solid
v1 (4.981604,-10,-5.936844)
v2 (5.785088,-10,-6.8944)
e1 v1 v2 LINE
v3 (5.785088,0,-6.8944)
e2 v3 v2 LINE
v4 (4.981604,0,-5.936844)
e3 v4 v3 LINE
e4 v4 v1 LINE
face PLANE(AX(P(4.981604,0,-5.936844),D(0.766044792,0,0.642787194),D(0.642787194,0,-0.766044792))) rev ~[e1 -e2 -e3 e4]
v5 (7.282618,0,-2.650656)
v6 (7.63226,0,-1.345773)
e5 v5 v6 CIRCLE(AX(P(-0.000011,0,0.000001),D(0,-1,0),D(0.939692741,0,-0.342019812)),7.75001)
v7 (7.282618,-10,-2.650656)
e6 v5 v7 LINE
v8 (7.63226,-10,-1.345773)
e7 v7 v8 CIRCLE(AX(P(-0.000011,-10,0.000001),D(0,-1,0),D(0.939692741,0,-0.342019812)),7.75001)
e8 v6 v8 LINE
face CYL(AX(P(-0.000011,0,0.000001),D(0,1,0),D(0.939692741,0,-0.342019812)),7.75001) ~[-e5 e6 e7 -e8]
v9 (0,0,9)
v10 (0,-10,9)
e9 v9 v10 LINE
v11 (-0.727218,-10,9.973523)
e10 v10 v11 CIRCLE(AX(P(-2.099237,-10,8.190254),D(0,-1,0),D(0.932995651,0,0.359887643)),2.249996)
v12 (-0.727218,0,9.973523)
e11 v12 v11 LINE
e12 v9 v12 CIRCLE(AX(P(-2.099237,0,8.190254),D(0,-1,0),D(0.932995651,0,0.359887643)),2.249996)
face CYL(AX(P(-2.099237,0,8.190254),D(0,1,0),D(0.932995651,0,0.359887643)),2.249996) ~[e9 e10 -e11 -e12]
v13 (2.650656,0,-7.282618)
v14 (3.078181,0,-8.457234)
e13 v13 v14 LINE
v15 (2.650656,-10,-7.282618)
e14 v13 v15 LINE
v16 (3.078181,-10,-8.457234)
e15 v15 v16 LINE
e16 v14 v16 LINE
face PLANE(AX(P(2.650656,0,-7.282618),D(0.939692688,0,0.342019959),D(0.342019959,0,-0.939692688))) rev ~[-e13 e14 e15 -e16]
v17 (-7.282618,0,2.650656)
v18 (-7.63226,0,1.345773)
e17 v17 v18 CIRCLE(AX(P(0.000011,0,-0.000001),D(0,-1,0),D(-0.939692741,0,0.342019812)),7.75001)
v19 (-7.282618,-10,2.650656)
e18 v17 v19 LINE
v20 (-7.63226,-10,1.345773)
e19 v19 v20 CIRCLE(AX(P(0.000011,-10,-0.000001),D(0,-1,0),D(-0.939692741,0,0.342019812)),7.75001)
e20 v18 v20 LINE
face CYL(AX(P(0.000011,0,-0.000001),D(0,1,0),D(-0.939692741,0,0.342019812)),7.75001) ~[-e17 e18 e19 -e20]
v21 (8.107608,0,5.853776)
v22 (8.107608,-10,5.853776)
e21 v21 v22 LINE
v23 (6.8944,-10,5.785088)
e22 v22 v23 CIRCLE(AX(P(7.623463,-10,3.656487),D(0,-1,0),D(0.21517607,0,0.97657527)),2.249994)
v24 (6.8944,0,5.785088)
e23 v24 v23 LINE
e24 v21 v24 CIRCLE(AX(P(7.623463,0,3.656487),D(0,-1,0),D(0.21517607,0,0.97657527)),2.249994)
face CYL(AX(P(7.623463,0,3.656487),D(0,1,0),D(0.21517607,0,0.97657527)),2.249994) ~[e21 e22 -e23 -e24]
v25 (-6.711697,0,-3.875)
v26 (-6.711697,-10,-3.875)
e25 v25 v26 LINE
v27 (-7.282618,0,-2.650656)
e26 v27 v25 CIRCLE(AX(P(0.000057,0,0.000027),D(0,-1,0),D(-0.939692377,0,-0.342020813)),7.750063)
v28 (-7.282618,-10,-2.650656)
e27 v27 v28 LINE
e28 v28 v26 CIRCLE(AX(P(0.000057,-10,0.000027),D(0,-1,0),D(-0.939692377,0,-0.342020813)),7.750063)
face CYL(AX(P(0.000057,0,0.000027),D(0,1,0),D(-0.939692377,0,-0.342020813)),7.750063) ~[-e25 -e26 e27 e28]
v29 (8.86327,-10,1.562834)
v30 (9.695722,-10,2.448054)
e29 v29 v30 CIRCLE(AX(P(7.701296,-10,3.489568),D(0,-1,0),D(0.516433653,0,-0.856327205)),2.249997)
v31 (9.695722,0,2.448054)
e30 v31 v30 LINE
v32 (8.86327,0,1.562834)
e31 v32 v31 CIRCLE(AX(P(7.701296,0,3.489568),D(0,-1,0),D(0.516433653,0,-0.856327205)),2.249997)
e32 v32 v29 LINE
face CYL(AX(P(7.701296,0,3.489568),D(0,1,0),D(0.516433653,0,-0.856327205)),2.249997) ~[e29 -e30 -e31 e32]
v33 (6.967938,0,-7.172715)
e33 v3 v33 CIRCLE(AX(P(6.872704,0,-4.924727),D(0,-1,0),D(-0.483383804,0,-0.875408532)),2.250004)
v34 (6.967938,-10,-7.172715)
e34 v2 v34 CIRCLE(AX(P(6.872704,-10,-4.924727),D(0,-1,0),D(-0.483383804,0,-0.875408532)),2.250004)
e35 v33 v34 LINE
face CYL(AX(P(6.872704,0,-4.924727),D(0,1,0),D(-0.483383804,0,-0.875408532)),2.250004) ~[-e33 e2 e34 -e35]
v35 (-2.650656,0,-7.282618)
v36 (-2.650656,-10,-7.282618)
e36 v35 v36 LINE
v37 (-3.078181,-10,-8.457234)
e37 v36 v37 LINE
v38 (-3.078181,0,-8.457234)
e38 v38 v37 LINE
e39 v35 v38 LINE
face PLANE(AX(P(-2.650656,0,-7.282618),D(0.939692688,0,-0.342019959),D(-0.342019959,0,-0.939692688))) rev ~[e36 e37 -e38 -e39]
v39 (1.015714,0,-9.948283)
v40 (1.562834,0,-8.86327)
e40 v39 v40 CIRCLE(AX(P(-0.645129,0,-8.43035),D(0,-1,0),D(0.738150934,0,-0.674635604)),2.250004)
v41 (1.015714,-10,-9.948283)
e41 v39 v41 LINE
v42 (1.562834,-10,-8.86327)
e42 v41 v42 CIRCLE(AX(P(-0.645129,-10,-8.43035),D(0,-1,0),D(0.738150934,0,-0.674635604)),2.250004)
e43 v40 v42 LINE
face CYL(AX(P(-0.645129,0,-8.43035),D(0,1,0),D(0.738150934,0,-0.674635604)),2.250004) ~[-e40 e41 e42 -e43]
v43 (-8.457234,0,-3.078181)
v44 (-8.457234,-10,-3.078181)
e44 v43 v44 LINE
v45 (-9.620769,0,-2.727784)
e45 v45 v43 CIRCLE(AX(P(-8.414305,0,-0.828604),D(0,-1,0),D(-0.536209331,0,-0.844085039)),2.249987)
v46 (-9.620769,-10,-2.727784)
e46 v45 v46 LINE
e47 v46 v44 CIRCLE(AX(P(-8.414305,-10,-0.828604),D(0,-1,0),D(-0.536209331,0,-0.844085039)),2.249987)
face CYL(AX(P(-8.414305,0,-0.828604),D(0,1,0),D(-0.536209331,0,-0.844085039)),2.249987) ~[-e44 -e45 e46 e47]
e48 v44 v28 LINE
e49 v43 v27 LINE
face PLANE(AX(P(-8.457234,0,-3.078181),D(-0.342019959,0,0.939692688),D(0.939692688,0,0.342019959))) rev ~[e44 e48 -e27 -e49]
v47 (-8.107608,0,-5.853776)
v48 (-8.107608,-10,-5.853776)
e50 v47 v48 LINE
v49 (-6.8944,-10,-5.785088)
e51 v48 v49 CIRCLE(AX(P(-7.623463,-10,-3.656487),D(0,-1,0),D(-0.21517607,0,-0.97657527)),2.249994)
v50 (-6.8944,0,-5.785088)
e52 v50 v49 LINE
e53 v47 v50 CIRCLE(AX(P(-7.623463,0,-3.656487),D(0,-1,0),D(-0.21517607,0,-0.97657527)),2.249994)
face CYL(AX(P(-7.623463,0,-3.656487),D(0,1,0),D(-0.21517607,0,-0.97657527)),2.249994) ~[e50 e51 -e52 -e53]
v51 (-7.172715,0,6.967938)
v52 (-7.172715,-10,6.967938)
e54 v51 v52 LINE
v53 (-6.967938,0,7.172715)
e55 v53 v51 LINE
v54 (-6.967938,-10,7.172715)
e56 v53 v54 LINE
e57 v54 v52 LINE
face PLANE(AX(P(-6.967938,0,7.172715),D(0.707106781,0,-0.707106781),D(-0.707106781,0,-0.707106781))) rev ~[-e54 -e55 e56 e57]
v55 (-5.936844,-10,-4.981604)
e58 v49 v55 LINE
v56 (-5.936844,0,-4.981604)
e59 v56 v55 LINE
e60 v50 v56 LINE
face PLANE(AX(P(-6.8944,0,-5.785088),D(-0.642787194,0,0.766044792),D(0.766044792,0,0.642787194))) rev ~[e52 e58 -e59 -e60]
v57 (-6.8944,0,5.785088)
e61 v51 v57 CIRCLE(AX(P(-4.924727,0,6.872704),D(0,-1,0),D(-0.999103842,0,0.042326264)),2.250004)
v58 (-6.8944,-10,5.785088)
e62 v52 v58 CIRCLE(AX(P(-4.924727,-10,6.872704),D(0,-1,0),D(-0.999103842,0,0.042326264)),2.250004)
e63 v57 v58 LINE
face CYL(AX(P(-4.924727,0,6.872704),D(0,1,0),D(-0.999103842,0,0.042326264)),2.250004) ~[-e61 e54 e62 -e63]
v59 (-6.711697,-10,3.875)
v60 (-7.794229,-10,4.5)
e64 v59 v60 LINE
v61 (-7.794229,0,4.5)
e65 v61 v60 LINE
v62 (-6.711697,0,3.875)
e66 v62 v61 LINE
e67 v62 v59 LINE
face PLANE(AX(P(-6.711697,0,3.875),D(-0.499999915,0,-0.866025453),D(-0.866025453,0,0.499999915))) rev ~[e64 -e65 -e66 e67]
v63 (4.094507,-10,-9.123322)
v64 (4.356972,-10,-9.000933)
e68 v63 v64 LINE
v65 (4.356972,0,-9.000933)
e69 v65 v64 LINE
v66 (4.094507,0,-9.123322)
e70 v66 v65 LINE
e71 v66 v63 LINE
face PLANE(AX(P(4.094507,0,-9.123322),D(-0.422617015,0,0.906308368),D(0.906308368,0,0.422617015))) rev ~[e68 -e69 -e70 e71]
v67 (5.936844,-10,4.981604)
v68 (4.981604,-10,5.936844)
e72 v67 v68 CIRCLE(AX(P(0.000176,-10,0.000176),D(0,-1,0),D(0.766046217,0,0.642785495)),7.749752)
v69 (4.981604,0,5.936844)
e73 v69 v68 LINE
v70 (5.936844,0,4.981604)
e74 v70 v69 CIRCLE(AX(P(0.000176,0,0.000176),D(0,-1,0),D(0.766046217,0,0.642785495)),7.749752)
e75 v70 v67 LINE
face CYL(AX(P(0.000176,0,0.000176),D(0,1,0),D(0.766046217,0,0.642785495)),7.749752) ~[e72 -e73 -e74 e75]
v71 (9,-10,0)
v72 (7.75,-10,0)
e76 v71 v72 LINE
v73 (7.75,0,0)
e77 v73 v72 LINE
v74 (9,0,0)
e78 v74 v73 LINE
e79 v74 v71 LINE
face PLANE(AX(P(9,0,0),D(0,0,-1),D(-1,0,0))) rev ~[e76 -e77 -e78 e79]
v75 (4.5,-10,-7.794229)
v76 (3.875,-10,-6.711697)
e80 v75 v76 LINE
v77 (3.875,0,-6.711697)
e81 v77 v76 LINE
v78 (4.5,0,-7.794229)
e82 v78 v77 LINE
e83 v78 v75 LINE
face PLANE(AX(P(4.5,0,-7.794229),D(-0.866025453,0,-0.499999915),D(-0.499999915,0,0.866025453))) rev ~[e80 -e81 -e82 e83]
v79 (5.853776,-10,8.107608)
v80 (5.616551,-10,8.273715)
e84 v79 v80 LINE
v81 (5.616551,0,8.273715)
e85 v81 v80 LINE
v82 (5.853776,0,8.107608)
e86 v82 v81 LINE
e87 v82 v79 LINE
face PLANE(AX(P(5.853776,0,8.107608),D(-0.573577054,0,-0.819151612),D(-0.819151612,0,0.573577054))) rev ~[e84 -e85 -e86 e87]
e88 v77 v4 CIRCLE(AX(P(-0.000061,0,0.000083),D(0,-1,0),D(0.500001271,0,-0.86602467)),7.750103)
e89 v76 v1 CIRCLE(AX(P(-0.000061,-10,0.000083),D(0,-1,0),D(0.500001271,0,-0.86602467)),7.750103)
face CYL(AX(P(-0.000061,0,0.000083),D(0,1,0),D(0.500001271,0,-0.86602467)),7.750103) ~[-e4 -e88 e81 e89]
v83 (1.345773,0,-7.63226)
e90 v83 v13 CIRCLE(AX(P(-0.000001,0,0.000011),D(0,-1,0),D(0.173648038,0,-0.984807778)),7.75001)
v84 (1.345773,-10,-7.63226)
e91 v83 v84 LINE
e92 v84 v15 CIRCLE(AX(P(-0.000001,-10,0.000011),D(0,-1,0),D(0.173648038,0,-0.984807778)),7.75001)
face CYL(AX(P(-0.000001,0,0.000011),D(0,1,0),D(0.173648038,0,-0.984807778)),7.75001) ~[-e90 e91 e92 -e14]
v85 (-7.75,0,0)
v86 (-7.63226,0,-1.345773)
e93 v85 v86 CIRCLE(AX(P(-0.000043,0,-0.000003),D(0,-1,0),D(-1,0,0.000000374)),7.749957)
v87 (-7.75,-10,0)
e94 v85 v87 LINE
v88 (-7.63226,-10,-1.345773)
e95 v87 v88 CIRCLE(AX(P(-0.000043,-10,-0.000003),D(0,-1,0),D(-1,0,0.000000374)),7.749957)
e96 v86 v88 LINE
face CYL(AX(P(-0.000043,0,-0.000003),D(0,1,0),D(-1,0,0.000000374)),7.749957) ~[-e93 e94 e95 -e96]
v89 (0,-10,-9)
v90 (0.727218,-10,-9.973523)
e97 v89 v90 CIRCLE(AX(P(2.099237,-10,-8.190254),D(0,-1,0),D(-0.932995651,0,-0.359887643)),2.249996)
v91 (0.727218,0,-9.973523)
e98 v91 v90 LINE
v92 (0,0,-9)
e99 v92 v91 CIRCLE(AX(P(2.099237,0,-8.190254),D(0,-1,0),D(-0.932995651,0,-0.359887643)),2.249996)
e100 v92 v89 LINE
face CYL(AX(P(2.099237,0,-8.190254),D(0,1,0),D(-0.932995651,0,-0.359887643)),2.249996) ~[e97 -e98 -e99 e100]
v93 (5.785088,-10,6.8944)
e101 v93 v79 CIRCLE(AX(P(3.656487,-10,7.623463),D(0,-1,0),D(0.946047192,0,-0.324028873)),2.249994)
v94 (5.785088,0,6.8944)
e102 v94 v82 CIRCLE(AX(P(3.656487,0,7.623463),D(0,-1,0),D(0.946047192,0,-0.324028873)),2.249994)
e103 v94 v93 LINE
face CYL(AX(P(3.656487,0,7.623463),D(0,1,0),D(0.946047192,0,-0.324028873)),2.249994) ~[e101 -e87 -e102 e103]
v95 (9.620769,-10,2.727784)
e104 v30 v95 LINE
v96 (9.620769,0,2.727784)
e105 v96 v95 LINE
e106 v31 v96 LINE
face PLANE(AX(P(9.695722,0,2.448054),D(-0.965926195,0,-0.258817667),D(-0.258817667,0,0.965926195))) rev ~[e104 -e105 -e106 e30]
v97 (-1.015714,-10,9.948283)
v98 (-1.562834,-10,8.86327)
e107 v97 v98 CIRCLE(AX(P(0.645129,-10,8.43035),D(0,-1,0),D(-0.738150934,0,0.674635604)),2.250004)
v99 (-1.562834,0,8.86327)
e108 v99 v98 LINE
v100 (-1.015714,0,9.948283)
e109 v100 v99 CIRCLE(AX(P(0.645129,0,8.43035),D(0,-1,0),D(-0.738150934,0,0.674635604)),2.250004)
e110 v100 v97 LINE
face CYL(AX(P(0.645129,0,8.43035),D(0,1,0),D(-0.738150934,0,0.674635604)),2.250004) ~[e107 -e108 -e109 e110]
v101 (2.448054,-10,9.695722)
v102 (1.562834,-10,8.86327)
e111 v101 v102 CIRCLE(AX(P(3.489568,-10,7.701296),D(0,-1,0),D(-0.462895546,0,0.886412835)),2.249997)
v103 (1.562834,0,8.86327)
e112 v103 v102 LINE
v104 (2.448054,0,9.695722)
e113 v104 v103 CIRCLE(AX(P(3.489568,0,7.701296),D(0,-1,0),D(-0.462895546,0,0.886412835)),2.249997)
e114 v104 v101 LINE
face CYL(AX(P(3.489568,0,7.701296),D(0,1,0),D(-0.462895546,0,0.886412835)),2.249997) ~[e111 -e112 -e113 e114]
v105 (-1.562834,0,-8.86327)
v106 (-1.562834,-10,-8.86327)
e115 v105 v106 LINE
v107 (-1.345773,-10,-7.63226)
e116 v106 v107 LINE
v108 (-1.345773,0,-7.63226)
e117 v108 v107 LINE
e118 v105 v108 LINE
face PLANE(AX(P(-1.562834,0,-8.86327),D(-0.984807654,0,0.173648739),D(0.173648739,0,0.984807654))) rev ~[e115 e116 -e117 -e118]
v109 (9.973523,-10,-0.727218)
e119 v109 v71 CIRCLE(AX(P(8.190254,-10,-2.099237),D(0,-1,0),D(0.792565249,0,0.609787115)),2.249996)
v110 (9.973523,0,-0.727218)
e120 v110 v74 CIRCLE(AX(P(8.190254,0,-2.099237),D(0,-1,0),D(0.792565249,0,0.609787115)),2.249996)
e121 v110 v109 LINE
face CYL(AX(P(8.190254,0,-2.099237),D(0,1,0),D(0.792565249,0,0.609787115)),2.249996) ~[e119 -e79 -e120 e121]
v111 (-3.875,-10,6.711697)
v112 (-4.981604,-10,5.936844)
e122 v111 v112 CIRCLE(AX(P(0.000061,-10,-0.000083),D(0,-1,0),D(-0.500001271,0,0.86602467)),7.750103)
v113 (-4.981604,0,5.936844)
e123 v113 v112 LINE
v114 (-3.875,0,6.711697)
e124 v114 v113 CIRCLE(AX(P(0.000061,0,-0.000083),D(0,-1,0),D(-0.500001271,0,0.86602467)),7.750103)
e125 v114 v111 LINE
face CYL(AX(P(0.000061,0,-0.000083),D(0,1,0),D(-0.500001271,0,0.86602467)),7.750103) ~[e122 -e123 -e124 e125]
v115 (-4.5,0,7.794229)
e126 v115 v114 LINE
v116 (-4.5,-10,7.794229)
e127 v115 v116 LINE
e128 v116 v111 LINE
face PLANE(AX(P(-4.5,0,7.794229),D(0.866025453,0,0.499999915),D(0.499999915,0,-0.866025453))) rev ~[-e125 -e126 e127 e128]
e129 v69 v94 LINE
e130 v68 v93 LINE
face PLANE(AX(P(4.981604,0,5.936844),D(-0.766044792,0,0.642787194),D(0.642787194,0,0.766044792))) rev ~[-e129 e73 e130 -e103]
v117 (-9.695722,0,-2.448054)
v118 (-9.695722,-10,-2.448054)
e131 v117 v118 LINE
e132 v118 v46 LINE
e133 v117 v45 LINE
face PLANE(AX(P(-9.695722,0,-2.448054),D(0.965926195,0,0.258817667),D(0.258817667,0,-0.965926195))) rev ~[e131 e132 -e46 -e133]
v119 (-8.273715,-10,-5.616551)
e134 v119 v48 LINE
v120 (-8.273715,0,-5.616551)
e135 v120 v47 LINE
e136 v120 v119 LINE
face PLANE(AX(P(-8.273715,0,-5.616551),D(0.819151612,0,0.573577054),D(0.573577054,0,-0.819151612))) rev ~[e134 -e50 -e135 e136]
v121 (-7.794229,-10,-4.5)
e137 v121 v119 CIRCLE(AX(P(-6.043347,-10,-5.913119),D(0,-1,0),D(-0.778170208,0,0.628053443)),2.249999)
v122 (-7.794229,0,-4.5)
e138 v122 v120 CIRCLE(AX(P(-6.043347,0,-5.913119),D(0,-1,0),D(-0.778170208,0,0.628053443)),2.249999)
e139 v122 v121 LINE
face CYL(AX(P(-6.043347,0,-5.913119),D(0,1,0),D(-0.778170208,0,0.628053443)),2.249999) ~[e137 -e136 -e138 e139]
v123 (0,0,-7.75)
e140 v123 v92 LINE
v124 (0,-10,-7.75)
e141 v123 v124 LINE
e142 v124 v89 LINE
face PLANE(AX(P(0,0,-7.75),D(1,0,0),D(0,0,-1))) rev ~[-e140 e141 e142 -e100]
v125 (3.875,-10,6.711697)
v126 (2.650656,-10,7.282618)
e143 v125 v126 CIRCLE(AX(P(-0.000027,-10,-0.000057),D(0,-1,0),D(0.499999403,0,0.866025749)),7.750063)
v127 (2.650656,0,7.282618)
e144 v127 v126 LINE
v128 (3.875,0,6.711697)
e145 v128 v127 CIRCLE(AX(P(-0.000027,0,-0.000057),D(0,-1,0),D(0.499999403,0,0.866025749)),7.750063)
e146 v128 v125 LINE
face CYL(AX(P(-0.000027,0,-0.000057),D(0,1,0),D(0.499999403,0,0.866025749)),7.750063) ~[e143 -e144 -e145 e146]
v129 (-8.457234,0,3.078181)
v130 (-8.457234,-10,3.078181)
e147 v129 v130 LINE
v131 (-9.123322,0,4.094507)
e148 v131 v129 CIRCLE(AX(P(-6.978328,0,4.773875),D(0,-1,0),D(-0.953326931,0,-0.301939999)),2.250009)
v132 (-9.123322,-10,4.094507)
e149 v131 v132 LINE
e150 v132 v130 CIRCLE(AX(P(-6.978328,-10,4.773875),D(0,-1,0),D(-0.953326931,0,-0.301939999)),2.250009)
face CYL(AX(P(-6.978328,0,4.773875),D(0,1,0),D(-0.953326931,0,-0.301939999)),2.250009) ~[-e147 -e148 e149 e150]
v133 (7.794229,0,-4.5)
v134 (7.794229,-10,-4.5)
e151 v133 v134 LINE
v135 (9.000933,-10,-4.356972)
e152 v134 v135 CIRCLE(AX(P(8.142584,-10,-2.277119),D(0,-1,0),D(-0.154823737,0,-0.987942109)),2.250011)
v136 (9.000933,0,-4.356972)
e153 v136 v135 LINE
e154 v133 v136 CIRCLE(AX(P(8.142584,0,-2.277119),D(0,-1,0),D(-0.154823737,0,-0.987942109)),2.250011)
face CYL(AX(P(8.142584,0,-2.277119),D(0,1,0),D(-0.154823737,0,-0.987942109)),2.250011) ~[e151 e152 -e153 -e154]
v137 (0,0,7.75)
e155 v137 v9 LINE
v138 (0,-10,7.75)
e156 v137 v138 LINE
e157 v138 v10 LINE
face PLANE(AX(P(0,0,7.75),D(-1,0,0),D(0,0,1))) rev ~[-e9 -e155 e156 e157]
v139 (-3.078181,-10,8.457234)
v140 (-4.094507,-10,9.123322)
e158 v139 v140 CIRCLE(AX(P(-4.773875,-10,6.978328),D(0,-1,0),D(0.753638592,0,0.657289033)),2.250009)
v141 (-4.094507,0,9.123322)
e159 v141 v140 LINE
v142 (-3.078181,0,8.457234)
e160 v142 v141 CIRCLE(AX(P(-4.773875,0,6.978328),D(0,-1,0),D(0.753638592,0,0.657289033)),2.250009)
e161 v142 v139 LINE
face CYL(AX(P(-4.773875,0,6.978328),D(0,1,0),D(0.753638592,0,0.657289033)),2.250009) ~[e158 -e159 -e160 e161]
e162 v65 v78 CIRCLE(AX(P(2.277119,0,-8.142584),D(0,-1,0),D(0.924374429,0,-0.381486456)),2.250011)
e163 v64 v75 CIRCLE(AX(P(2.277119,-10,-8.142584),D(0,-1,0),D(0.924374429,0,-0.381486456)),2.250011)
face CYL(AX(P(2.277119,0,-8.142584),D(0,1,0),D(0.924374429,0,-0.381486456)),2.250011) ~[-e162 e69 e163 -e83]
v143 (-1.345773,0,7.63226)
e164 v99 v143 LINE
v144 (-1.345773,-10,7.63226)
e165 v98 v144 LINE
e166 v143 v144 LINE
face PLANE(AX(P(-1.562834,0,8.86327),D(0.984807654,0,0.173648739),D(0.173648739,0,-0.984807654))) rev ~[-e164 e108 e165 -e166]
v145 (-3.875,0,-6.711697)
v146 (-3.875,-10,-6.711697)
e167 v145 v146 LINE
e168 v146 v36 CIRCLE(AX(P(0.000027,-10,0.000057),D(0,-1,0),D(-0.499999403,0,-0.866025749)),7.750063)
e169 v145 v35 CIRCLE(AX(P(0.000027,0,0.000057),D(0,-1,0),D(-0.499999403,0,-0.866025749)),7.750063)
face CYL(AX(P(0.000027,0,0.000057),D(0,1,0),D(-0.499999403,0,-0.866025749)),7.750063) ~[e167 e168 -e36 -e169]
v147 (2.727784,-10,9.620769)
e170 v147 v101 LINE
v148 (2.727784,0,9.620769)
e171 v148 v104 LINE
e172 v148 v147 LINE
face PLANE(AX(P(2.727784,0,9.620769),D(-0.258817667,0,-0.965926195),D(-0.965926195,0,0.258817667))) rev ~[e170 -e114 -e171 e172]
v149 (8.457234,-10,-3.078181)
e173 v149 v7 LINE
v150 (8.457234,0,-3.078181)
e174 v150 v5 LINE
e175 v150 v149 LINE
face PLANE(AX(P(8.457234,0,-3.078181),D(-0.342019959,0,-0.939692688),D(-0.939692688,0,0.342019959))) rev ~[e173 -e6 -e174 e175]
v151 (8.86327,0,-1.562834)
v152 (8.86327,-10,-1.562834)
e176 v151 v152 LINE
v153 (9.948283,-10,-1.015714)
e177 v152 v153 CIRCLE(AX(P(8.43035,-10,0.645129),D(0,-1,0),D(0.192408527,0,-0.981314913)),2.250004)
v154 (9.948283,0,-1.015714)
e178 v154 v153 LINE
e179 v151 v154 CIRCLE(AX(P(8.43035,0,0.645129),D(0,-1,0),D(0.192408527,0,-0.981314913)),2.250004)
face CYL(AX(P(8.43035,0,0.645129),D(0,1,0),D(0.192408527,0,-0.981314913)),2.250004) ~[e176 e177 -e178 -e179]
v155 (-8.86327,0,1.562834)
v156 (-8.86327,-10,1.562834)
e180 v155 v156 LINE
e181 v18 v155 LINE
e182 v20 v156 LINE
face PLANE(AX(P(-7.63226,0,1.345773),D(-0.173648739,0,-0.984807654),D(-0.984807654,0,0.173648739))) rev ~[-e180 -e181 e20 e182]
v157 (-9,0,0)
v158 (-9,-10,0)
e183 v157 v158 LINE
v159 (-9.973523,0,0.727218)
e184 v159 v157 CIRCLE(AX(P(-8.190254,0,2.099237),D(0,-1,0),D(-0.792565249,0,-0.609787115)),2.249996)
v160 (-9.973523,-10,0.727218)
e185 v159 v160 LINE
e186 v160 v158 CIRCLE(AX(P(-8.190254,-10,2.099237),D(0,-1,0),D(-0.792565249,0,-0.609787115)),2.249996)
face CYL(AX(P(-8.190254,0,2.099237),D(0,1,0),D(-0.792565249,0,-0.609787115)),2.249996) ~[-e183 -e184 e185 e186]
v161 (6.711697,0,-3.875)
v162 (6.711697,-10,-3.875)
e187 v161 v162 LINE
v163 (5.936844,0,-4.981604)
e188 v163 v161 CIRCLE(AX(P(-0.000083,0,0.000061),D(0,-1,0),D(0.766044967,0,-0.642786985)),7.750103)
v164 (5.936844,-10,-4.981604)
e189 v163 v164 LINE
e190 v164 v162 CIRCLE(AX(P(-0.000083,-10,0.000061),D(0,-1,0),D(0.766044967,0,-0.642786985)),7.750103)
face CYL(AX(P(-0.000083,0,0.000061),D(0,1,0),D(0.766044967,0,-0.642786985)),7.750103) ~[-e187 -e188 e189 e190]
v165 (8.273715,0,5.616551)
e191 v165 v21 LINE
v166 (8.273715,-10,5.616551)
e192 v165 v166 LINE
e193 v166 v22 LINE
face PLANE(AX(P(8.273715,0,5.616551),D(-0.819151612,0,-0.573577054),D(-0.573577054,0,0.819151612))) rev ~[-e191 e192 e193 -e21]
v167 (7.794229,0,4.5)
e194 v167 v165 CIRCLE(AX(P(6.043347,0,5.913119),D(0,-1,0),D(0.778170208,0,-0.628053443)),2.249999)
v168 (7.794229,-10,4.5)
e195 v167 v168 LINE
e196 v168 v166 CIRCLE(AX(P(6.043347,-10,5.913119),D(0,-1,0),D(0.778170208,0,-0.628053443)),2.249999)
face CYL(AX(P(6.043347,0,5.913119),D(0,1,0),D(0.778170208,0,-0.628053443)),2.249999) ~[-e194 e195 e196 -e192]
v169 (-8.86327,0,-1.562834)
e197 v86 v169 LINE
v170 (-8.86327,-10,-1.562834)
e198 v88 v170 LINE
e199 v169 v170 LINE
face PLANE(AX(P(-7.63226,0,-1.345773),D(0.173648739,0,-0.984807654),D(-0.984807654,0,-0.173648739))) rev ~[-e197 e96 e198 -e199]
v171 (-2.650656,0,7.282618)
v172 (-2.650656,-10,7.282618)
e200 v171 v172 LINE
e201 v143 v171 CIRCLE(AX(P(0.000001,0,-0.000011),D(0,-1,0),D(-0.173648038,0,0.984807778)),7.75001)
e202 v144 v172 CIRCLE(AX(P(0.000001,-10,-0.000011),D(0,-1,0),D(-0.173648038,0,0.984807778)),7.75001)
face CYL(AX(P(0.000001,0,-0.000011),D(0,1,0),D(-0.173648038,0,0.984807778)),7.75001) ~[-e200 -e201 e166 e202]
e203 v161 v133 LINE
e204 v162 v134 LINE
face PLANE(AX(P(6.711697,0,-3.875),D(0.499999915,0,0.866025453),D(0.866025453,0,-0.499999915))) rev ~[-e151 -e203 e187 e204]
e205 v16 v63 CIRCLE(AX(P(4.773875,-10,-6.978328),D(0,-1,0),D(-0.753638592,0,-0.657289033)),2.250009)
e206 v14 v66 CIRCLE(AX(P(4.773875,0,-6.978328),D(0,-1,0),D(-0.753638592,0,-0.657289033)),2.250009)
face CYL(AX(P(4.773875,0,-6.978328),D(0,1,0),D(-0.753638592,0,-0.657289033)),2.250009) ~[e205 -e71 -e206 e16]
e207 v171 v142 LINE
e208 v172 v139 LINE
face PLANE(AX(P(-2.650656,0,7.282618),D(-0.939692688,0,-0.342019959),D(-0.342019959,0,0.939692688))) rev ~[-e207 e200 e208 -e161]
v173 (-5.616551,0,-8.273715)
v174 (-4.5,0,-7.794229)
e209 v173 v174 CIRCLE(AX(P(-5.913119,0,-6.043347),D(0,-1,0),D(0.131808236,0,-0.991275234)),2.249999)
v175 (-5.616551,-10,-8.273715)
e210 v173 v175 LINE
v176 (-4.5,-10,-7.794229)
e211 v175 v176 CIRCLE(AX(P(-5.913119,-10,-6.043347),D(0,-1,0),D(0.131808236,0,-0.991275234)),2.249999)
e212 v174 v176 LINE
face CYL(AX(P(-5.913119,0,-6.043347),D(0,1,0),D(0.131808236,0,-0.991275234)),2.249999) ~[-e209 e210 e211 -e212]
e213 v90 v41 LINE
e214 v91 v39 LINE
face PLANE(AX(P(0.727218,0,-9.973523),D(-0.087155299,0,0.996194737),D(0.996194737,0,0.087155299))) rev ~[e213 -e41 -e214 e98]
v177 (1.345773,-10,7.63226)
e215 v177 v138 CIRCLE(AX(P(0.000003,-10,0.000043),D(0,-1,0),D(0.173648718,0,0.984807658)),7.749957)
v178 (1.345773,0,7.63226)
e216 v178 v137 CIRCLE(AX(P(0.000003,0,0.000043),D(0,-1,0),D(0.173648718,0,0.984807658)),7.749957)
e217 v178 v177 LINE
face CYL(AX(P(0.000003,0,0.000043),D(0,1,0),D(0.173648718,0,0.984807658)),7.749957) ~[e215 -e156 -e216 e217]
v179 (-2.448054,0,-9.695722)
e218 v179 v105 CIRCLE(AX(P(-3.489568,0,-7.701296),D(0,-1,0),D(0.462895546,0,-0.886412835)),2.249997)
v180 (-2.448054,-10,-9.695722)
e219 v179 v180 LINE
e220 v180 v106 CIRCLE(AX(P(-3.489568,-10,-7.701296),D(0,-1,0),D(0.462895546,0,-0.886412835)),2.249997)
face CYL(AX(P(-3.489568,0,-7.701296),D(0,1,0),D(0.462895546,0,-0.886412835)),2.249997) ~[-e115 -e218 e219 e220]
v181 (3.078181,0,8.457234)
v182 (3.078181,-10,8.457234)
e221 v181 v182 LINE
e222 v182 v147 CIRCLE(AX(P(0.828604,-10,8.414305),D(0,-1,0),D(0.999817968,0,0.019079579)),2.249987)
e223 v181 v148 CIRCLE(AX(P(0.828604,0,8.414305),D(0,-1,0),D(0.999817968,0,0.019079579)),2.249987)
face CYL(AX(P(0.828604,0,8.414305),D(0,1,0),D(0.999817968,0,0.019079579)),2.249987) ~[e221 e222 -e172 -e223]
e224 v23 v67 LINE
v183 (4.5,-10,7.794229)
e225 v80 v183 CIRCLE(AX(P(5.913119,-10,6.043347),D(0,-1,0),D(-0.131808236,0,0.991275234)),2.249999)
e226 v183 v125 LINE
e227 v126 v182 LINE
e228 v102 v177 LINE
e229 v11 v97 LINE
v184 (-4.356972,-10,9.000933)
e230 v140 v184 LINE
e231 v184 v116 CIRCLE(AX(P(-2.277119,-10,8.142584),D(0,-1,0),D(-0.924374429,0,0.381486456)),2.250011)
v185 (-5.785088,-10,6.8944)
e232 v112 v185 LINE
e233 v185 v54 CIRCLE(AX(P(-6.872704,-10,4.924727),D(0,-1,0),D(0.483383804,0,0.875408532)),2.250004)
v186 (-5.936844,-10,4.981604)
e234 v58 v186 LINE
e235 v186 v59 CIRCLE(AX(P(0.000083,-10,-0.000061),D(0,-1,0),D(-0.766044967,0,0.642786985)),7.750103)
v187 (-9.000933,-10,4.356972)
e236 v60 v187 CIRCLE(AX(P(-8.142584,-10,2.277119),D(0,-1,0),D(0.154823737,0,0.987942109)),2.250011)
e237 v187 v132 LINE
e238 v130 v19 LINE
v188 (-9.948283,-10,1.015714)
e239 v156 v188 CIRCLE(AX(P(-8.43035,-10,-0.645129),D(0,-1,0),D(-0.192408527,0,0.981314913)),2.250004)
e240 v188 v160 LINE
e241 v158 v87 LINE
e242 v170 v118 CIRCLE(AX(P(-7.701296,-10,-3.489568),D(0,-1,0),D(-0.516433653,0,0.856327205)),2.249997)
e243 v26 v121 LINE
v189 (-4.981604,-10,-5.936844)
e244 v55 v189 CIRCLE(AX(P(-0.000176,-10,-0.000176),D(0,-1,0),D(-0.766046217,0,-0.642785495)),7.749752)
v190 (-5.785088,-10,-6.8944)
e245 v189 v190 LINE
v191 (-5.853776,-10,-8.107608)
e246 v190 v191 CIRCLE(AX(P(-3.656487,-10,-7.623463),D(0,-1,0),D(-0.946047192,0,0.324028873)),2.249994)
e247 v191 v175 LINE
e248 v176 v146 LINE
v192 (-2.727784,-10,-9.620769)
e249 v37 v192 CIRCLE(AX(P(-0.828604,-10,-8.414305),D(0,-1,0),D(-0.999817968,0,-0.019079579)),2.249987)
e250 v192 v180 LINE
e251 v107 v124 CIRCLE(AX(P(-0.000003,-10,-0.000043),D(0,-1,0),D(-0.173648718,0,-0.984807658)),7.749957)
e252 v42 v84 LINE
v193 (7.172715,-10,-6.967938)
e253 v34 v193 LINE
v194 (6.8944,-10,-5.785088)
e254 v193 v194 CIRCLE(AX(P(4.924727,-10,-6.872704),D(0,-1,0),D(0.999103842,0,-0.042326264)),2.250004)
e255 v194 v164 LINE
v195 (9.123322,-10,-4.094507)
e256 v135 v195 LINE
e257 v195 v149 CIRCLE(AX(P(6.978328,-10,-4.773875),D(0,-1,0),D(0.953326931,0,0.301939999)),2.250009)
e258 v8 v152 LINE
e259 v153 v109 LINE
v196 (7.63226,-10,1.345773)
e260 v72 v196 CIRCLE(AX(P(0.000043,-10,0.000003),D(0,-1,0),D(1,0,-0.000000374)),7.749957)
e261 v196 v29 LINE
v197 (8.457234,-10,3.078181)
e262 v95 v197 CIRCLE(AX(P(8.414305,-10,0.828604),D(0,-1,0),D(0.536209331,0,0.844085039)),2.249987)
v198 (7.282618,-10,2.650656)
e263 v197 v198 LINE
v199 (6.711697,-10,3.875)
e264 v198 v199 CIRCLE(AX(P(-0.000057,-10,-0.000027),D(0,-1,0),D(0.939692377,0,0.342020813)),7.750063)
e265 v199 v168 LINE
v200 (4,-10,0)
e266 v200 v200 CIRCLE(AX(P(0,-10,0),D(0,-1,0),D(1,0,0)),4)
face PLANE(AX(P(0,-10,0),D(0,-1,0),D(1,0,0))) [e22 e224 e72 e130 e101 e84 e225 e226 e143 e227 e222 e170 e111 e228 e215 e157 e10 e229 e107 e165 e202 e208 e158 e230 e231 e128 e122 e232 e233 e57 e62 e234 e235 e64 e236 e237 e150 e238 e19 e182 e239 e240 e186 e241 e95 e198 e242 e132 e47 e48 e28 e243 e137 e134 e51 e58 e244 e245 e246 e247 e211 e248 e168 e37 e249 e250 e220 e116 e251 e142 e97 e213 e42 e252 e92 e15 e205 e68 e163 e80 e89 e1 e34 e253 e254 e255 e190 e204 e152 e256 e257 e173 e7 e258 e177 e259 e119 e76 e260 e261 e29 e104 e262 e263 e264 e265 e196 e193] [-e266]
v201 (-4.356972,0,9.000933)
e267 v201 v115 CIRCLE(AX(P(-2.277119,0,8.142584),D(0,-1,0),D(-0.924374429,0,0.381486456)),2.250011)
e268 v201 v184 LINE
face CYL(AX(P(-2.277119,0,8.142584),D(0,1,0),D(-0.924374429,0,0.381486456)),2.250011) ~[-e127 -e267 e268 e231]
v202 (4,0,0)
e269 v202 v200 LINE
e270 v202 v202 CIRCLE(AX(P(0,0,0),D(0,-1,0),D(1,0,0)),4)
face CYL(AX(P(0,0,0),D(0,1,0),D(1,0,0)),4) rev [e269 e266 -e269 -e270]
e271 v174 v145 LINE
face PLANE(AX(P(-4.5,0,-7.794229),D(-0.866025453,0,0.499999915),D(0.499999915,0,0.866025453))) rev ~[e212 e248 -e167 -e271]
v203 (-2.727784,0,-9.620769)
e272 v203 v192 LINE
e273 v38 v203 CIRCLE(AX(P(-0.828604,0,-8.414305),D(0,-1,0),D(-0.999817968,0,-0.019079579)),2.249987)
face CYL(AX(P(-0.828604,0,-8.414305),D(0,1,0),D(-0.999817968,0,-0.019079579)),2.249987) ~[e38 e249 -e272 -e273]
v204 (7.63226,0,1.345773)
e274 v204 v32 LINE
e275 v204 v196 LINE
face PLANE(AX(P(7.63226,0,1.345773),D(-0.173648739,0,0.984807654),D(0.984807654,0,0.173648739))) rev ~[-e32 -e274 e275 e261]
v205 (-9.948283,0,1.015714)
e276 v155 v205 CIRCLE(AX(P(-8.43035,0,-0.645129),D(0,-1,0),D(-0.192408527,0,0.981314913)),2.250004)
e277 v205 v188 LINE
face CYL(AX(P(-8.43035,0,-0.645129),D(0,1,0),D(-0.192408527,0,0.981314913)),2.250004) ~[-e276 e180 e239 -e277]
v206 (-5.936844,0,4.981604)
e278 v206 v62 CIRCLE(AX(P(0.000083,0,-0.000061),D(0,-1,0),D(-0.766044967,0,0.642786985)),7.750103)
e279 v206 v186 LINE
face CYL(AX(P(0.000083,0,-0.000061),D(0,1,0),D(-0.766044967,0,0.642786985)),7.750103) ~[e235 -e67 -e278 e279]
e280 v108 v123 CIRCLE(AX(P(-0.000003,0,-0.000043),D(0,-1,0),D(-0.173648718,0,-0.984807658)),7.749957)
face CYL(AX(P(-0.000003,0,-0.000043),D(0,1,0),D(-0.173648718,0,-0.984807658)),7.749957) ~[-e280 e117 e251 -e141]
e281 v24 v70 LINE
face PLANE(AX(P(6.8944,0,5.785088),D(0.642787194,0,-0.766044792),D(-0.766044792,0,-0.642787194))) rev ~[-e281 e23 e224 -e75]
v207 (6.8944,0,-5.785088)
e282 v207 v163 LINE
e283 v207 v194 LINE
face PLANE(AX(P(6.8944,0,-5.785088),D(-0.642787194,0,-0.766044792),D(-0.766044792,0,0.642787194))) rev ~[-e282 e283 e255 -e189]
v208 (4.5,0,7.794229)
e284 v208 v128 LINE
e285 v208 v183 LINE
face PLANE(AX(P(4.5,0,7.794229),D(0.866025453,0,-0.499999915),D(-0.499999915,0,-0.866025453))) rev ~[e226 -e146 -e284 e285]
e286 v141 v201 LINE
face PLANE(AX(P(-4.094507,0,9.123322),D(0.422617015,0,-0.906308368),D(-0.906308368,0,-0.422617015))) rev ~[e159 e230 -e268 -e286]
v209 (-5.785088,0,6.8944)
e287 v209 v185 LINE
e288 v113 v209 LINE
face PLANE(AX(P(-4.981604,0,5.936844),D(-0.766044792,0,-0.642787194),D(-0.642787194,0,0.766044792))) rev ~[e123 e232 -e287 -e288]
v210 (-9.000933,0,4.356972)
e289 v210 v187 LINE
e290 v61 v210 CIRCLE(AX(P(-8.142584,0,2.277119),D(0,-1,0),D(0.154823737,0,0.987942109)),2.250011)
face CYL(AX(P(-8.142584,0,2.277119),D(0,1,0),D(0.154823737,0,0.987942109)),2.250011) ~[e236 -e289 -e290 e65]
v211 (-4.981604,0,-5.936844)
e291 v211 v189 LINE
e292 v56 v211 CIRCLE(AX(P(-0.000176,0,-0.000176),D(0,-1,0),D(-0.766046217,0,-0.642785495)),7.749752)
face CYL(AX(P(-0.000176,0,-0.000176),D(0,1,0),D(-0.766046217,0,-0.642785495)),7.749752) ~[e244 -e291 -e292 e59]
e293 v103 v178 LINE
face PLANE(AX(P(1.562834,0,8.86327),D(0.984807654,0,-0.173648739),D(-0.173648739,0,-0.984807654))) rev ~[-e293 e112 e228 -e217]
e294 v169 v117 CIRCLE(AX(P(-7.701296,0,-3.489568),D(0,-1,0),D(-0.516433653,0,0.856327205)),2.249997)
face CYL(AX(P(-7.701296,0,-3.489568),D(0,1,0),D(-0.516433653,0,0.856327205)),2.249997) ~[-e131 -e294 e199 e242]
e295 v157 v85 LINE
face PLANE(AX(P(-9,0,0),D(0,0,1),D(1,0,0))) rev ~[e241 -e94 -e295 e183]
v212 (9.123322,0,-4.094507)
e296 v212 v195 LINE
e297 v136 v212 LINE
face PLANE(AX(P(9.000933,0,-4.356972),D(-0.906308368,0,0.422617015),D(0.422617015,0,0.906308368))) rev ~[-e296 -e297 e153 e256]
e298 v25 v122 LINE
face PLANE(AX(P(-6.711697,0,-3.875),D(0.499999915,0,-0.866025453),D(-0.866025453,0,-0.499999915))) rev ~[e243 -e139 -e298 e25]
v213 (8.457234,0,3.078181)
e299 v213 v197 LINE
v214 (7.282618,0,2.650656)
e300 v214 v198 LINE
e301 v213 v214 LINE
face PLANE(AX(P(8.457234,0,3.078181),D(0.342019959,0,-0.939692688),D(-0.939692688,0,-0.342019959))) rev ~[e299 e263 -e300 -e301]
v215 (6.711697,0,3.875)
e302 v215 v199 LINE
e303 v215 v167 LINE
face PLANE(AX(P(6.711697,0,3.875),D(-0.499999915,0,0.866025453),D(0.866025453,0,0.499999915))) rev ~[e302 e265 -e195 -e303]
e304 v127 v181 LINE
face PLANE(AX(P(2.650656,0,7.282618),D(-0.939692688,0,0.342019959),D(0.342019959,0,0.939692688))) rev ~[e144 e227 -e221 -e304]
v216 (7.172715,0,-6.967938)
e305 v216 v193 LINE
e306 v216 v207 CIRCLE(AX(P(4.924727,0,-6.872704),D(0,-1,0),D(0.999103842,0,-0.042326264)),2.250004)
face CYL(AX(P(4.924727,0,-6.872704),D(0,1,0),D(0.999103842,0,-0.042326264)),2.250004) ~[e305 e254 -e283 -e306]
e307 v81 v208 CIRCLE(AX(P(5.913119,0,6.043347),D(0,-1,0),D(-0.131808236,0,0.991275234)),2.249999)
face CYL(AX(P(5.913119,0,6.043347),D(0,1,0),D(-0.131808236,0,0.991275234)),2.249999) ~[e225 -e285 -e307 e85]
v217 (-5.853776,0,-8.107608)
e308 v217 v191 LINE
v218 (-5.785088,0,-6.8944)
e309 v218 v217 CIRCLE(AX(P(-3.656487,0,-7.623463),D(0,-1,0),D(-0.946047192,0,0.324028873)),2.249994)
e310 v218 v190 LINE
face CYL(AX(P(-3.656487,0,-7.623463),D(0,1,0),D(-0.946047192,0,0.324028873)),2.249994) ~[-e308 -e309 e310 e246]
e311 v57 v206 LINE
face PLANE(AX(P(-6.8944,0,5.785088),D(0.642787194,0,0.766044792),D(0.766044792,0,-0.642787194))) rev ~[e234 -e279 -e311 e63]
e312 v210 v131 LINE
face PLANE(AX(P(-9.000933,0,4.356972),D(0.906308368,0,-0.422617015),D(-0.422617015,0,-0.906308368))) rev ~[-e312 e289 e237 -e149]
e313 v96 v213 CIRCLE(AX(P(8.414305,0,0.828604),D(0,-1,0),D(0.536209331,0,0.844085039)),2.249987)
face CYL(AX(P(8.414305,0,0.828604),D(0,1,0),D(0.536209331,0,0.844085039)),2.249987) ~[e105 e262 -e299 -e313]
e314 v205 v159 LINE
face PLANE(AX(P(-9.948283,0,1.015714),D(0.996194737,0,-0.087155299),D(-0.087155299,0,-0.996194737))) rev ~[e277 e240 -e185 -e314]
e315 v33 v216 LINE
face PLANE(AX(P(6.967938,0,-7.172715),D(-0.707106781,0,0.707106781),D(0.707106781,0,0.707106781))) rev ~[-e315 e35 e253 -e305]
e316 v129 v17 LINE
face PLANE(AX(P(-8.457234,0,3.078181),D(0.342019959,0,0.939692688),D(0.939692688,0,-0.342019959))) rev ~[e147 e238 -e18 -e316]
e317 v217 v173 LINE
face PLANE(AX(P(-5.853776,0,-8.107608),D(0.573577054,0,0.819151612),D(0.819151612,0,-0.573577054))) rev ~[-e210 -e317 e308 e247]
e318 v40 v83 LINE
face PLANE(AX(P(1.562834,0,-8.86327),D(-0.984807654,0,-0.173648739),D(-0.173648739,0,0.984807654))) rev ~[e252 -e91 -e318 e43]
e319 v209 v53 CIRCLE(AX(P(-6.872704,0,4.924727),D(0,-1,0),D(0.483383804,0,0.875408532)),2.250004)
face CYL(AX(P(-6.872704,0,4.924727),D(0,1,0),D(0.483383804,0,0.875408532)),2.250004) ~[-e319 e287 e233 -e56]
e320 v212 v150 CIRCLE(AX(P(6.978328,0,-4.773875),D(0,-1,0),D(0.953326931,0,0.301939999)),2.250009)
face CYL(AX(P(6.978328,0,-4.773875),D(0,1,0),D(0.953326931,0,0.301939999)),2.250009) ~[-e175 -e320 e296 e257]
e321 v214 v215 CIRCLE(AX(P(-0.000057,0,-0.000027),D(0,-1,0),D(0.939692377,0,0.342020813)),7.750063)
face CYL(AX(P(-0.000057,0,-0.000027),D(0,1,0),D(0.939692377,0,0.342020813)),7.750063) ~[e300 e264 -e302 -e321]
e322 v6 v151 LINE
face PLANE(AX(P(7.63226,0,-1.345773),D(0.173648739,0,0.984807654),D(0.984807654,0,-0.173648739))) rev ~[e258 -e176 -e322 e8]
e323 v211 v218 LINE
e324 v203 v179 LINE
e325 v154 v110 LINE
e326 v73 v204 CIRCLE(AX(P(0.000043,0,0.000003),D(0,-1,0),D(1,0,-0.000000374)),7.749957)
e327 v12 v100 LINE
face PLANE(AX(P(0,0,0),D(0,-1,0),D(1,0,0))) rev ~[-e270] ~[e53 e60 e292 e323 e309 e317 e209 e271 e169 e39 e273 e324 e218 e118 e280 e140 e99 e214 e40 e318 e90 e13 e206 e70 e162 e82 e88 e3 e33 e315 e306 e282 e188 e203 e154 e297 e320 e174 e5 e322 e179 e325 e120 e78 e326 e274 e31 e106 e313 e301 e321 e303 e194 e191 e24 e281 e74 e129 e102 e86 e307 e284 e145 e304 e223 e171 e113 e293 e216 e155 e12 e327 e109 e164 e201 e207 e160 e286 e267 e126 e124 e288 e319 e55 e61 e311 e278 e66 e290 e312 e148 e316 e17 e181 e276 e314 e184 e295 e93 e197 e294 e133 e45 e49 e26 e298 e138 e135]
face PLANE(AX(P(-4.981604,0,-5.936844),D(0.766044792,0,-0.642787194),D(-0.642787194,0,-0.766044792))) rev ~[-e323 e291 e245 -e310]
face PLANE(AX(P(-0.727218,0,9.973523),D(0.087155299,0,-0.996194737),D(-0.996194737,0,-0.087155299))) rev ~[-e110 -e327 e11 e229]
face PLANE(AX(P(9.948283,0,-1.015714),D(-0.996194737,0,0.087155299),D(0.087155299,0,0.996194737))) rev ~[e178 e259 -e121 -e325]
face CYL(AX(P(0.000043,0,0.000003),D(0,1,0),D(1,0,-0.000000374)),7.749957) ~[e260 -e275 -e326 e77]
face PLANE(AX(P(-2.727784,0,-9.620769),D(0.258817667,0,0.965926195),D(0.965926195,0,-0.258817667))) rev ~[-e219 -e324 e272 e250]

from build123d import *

# Parameters (mm, degrees)
F0_R     = 4
F1_DEPTH = 10


with BuildPart() as f1:
    # F0 (on Front) → F1 (new body)
    with BuildSketch(Plane.XZ):
        with BuildLine():
            Line((-1.562834, 8.86327), (-1.345773, 7.63226))
            ThreePointArc((-1.345773, 7.63226), (-2.005848, 7.485925), (-2.650656, 7.282618))
            Line((-2.650656, 7.282618), (-3.078181, 8.457234))
            ThreePointArc((-3.078181, 8.457234), (-3.540527, 8.860187), (-4.094507, 9.123322))
            Line((-4.094507, 9.123322), (-4.356972, 9.000933))
            ThreePointArc((-4.356972, 9.000933), (-4.51149, 8.407419), (-4.5, 7.794229))
            Line((-4.5, 7.794229), (-3.875, 6.711697))
            ThreePointArc((-3.875, 6.711697), (-4.445217, 6.348428), (-4.981604, 5.936844))
            Line((-4.981604, 5.936844), (-5.785088, 6.8944))
            ThreePointArc((-5.785088, 6.8944), (-6.357369, 7.114921), (-6.967938, 7.172715))
            Line((-6.967938, 7.172715), (-7.172715, 6.967938))
            ThreePointArc((-7.172715, 6.967938), (-7.114921, 6.357369), (-6.8944, 5.785088))
            Line((-6.8944, 5.785088), (-5.936844, 4.981604))
            ThreePointArc((-5.936844, 4.981604), (-6.348428, 4.445217), (-6.711697, 3.875))
            Line((-6.711697, 3.875), (-7.794229, 4.5))
            ThreePointArc((-7.794229, 4.5), (-8.407419, 4.51149), (-9.000933, 4.356972))
            Line((-9.000933, 4.356972), (-9.123322, 4.094507))
            ThreePointArc((-9.123322, 4.094507), (-8.860187, 3.540527), (-8.457234, 3.078181))
            Line((-8.457234, 3.078181), (-7.282618, 2.650656))
            ThreePointArc((-7.282618, 2.650656), (-7.485925, 2.005848), (-7.63226, 1.345773))
            Line((-7.63226, 1.345773), (-8.86327, 1.562834))
            ThreePointArc((-8.86327, 1.562834), (-9.44341, 1.363908), (-9.948283, 1.015714))
            Line((-9.948283, 1.015714), (-9.973523, 0.727218))
            ThreePointArc((-9.973523, 0.727218), (-9.536784, 0.296644), (-9, 0))
            Line((-9, 0), (-7.75, 0))
            ThreePointArc((-7.75, 0), (-7.720509, -0.675457), (-7.63226, -1.345773))
            Line((-7.63226, -1.345773), (-8.86327, -1.562834))
            ThreePointArc((-8.86327, -1.562834), (-9.340387, -1.948183), (-9.695722, -2.448054))
            Line((-9.695722, -2.448054), (-9.620769, -2.727784))
            ThreePointArc((-9.620769, -2.727784), (-9.063104, -2.983018), (-8.457234, -3.078181))
            Line((-8.457234, -3.078181), (-7.282618, -2.650656))
            ThreePointArc((-7.282618, -2.650656), (-7.023885, -3.275292), (-6.711697, -3.875))
            Line((-6.711697, -3.875), (-7.794229, -4.5))
            ThreePointArc((-7.794229, -4.5), (-8.110775, -5.025293), (-8.273715, -5.616551))
            Line((-8.273715, -5.616551), (-8.107608, -5.853776))
            ThreePointArc((-8.107608, -5.853776), (-7.496279, -5.902884), (-6.8944, -5.785088))
            Line((-6.8944, -5.785088), (-5.936844, -4.981604))
            ThreePointArc((-5.936844, -4.981604), (-5.480078, -5.480078), (-4.981604, -5.936844))
            Line((-4.981604, -5.936844), (-5.785088, -6.8944))
            ThreePointArc((-5.785088, -6.8944), (-5.902884, -7.496279), (-5.853776, -8.107608))
            Line((-5.853776, -8.107608), (-5.616551, -8.273715))
            ThreePointArc((-5.616551, -8.273715), (-5.025293, -8.110775), (-4.5, -7.794229))
            Line((-4.5, -7.794229), (-3.875, -6.711697))
            ThreePointArc((-3.875, -6.711697), (-3.275292, -7.023885), (-2.650656, -7.282618))
            Line((-2.650656, -7.282618), (-3.078181, -8.457234))
            ThreePointArc((-3.078181, -8.457234), (-2.983018, -9.063104), (-2.727784, -9.620769))
            Line((-2.727784, -9.620769), (-2.448054, -9.695722))
            ThreePointArc((-2.448054, -9.695722), (-1.948183, -9.340387), (-1.562834, -8.86327))
            Line((-1.562834, -8.86327), (-1.345773, -7.63226))
            ThreePointArc((-1.345773, -7.63226), (-0.675457, -7.720509), (0, -7.75))
            Line((0, -7.75), (0, -9))
            ThreePointArc((0, -9), (0.296644, -9.536784), (0.727218, -9.973523))
            Line((0.727218, -9.973523), (1.015714, -9.948283))
            ThreePointArc((1.015714, -9.948283), (1.363908, -9.44341), (1.562834, -8.86327))
            Line((1.562834, -8.86327), (1.345773, -7.63226))
            ThreePointArc((1.345773, -7.63226), (2.005848, -7.485925), (2.650656, -7.282618))
            Line((2.650656, -7.282618), (3.078181, -8.457234))
            ThreePointArc((3.078181, -8.457234), (3.540527, -8.860187), (4.094507, -9.123322))
            Line((4.094507, -9.123322), (4.356972, -9.000933))
            ThreePointArc((4.356972, -9.000933), (4.51149, -8.407419), (4.5, -7.794229))
            Line((4.5, -7.794229), (3.875, -6.711697))
            ThreePointArc((3.875, -6.711697), (4.445217, -6.348428), (4.981604, -5.936844))
            Line((4.981604, -5.936844), (5.785088, -6.8944))
            ThreePointArc((5.785088, -6.8944), (6.357369, -7.114921), (6.967938, -7.172715))
            Line((6.967938, -7.172715), (7.172715, -6.967938))
            ThreePointArc((7.172715, -6.967938), (7.114921, -6.357369), (6.8944, -5.785088))
            Line((6.8944, -5.785088), (5.936844, -4.981604))
            ThreePointArc((5.936844, -4.981604), (6.348428, -4.445217), (6.711697, -3.875))
            Line((6.711697, -3.875), (7.794229, -4.5))
            ThreePointArc((7.794229, -4.5), (8.407419, -4.51149), (9.000933, -4.356972))
            Line((9.000933, -4.356972), (9.123322, -4.094507))
            ThreePointArc((9.123322, -4.094507), (8.860187, -3.540527), (8.457234, -3.078181))
            Line((8.457234, -3.078181), (7.282618, -2.650656))
            ThreePointArc((7.282618, -2.650656), (7.485925, -2.005848), (7.63226, -1.345773))
            Line((7.63226, -1.345773), (8.86327, -1.562834))
            ThreePointArc((8.86327, -1.562834), (9.44341, -1.363908), (9.948283, -1.015714))
            Line((9.948283, -1.015714), (9.973523, -0.727218))
            ThreePointArc((9.973523, -0.727218), (9.536784, -0.296644), (9, 0))
            Line((9, 0), (7.75, 0))
            ThreePointArc((7.75, 0), (7.720509, 0.675457), (7.63226, 1.345773))
            Line((7.63226, 1.345773), (8.86327, 1.562834))
            ThreePointArc((8.86327, 1.562834), (9.340387, 1.948183), (9.695722, 2.448054))
            Line((9.695722, 2.448054), (9.620769, 2.727784))
            ThreePointArc((9.620769, 2.727784), (9.063104, 2.983018), (8.457234, 3.078181))
            Line((8.457234, 3.078181), (7.282618, 2.650656))
            ThreePointArc((7.282618, 2.650656), (7.023885, 3.275292), (6.711697, 3.875))
            Line((6.711697, 3.875), (7.794229, 4.5))
            ThreePointArc((7.794229, 4.5), (8.110775, 5.025293), (8.273715, 5.616551))
            Line((8.273715, 5.616551), (8.107608, 5.853776))
            ThreePointArc((8.107608, 5.853776), (7.496279, 5.902884), (6.8944, 5.785088))
            Line((6.8944, 5.785088), (5.936844, 4.981604))
            ThreePointArc((5.936844, 4.981604), (5.480078, 5.480078), (4.981604, 5.936844))
            Line((4.981604, 5.936844), (5.785088, 6.8944))
            ThreePointArc((5.785088, 6.8944), (5.902884, 7.496279), (5.853776, 8.107608))
            Line((5.853776, 8.107608), (5.616551, 8.273715))
            ThreePointArc((5.616551, 8.273715), (5.025293, 8.110775), (4.5, 7.794229))
            Line((4.5, 7.794229), (3.875, 6.711697))
            ThreePointArc((3.875, 6.711697), (3.275292, 7.023885), (2.650656, 7.282618))
            Line((2.650656, 7.282618), (3.078181, 8.457234))
            ThreePointArc((3.078181, 8.457234), (2.983018, 9.063104), (2.727784, 9.620769))
            Line((2.727784, 9.620769), (2.448054, 9.695722))
            ThreePointArc((2.448054, 9.695722), (1.948183, 9.340387), (1.562834, 8.86327))
            Line((1.562834, 8.86327), (1.345773, 7.63226))
            ThreePointArc((1.345773, 7.63226), (0.675457, 7.720509), (0, 7.75))
            Line((0, 7.75), (0, 9))
            ThreePointArc((0, 9), (-0.296644, 9.536784), (-0.727218, 9.973523))
            Line((-0.727218, 9.973523), (-1.015714, 9.948283))
            ThreePointArc((-1.015714, 9.948283), (-1.363908, 9.44341), (-1.562834, 8.86327))
        make_face()
        Circle(F0_R, mode=Mode.SUBTRACT)
    extrude(amount=F1_DEPTH)


solid = f1.part
